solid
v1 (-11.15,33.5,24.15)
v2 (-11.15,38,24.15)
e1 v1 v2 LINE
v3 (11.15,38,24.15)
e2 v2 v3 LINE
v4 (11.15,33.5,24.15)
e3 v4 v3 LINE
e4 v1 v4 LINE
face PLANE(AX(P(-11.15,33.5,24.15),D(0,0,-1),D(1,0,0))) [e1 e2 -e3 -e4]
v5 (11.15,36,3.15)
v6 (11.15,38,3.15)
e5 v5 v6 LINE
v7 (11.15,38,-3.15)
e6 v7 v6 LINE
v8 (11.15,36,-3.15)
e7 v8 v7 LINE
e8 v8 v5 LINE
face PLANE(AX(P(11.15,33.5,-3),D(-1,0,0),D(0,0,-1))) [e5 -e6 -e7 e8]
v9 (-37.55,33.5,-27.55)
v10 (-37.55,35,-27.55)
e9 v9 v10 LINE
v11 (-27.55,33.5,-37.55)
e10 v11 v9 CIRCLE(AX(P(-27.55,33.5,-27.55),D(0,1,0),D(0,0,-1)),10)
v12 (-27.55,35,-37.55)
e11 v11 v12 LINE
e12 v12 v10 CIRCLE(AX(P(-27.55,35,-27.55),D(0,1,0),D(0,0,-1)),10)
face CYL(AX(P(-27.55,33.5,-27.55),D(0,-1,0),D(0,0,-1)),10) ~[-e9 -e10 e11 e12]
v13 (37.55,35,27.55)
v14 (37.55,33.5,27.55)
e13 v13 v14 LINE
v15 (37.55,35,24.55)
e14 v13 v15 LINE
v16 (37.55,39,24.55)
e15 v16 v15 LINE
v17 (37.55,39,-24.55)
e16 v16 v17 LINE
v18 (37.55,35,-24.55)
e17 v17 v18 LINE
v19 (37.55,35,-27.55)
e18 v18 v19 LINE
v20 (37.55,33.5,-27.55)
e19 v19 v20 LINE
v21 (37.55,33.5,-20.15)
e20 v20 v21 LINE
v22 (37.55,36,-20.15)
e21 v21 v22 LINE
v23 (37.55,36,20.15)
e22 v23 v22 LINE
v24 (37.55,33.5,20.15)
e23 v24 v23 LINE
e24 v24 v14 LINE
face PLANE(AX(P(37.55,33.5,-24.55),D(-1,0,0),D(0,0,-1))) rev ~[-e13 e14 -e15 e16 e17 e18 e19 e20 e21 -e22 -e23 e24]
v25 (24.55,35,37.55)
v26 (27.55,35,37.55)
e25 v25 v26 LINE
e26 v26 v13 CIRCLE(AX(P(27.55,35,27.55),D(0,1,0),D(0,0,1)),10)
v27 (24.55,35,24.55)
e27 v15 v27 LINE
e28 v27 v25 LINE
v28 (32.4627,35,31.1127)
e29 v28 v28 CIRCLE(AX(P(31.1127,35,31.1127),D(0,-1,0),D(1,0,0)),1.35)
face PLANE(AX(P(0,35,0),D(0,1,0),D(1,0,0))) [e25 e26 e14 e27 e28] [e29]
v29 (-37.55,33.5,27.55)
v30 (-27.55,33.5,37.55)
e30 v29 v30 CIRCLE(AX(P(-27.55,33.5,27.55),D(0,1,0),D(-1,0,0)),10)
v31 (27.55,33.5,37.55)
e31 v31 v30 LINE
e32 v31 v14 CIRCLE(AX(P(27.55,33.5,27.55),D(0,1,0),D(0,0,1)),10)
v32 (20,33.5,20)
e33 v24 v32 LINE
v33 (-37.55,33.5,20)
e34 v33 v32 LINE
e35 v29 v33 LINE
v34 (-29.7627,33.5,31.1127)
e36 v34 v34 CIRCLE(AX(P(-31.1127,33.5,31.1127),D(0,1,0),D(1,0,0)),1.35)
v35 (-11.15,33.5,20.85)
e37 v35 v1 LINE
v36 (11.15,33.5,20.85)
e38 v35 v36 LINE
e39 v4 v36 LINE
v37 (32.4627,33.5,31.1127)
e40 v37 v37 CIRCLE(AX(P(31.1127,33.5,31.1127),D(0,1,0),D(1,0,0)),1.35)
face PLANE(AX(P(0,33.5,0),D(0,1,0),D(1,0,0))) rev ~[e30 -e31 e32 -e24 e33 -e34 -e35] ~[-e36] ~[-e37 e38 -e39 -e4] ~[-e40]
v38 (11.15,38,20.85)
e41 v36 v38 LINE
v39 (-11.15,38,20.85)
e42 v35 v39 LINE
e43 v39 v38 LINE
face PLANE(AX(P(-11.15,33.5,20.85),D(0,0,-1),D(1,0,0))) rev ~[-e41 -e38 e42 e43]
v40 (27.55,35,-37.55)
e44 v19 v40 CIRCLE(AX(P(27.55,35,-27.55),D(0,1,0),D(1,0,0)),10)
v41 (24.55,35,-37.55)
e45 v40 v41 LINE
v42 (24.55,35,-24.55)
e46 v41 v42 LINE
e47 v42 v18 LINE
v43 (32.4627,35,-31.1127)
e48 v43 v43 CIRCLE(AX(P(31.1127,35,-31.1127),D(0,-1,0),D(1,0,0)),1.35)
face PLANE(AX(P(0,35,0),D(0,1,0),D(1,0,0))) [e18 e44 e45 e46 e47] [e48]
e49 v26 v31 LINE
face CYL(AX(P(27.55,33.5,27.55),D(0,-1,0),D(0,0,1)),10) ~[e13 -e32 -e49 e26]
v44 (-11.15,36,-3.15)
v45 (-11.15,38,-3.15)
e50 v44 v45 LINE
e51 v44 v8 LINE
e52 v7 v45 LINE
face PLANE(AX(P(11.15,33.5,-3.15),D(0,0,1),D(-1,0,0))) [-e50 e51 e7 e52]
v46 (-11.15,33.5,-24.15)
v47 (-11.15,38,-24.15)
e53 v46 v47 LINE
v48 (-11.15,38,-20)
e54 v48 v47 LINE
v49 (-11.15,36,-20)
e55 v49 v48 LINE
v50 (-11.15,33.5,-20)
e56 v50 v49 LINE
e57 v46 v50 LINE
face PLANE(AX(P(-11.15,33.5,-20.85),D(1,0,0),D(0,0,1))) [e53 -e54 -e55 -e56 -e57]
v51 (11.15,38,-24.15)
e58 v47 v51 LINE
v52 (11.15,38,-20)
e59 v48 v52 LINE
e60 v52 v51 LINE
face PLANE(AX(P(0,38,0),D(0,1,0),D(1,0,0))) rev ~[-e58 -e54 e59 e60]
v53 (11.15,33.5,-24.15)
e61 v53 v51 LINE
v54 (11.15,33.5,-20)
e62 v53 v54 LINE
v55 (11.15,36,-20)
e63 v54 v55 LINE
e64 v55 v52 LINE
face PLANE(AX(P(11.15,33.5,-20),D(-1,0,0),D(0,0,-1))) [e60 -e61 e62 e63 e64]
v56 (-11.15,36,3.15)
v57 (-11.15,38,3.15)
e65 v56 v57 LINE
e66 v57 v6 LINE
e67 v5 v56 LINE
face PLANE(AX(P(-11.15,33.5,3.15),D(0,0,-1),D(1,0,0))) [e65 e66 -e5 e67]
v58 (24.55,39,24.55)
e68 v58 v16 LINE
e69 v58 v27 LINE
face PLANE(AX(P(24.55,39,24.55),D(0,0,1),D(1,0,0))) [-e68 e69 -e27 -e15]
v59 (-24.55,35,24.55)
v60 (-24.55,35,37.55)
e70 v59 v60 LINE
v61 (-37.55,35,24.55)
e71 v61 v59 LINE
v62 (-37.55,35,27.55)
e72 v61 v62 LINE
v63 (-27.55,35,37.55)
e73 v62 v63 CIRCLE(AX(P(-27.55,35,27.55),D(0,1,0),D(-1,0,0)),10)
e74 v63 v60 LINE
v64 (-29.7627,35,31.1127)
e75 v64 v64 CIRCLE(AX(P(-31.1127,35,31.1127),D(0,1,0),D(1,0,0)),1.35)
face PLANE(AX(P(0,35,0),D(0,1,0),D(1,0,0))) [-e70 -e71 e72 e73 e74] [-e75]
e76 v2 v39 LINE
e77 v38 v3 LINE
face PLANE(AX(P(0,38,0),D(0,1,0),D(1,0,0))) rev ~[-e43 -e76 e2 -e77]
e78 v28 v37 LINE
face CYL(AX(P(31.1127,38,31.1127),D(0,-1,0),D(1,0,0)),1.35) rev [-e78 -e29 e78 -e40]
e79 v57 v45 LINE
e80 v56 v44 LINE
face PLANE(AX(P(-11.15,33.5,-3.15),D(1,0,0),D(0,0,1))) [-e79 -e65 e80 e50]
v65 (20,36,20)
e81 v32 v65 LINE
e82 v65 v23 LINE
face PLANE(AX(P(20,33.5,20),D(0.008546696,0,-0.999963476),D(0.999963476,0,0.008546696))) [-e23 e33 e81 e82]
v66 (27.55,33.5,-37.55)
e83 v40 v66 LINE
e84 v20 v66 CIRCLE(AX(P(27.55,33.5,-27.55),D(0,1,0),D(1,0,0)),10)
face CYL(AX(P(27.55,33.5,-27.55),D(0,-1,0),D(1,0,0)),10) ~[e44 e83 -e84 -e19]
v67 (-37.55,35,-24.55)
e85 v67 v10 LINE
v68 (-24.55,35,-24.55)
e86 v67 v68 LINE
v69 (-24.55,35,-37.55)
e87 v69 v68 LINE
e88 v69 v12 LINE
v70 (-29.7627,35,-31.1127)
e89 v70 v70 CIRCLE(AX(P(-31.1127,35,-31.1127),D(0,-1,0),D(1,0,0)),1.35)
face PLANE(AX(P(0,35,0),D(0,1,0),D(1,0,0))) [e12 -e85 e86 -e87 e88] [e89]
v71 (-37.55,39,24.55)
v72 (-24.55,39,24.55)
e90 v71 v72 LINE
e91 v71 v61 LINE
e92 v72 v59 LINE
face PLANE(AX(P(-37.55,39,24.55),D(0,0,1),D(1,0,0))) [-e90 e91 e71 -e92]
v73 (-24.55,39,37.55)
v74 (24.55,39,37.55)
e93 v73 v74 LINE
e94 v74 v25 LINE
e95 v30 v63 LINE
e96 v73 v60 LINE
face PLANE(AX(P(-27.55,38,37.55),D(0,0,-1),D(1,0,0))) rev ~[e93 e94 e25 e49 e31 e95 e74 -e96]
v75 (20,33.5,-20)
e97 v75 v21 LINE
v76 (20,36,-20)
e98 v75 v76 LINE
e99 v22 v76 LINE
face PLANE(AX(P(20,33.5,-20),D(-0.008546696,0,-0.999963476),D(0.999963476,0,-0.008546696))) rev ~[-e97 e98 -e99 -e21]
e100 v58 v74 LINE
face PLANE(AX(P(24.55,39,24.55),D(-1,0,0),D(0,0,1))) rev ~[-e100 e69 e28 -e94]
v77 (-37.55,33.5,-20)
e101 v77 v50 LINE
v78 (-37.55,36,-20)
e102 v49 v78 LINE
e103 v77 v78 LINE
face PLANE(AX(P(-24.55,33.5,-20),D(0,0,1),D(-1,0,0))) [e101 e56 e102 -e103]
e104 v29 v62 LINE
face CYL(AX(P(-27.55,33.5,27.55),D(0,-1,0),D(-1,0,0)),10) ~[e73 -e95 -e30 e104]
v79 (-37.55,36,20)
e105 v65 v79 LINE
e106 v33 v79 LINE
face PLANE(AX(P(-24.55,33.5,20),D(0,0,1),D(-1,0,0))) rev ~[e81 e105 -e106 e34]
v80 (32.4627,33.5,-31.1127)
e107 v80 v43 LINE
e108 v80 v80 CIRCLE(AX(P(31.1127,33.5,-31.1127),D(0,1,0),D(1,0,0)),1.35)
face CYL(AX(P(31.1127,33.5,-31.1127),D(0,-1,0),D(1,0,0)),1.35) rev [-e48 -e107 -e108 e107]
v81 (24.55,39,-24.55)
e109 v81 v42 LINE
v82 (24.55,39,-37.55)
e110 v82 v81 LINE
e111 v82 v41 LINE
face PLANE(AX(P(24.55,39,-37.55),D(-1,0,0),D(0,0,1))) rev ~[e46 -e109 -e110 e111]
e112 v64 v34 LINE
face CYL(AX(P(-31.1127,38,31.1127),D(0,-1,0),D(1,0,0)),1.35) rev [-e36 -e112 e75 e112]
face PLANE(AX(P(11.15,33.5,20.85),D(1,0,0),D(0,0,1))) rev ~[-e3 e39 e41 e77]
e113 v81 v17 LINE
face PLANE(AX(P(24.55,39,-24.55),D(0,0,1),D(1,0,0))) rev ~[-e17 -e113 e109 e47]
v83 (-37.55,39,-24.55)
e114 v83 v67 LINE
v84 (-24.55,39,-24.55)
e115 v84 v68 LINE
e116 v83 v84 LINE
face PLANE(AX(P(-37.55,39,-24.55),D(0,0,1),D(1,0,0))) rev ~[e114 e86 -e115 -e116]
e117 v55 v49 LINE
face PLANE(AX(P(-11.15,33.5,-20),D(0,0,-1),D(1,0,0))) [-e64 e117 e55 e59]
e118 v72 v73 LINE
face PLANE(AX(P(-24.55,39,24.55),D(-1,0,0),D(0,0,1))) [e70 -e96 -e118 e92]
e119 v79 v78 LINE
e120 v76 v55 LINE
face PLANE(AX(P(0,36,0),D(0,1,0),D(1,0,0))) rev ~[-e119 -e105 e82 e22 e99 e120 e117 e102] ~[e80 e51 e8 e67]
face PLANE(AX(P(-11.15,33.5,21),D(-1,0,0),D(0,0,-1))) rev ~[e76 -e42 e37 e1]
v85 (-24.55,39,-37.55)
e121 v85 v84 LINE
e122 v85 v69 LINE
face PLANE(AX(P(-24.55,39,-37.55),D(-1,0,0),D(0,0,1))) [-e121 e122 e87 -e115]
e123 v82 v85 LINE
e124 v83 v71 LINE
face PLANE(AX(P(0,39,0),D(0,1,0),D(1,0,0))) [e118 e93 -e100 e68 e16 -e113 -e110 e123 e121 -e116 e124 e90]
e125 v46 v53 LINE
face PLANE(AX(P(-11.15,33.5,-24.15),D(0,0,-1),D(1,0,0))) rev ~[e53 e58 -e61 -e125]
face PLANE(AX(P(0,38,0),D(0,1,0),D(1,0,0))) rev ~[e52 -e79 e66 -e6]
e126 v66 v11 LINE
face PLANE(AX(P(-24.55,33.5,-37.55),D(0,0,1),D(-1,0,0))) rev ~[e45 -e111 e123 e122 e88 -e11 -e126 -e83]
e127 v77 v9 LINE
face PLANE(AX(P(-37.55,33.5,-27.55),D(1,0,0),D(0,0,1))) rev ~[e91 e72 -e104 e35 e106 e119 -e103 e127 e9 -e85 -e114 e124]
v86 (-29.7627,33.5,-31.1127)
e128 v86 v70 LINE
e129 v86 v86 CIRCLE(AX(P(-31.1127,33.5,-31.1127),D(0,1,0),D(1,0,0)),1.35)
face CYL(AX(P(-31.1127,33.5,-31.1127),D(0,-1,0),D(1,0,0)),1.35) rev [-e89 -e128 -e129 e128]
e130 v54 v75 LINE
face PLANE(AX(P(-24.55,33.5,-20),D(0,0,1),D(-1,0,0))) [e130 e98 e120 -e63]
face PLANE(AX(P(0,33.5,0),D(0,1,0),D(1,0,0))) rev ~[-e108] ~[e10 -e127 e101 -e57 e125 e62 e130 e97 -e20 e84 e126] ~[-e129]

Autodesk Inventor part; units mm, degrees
ref_plane "YZ Plane" through (0, 0, 0) normal (1, 0, 0) x (0, 1, 0)
ref_plane "XZ Plane" through (0, 0, 0) normal (0, 1, 0) x (-1, 0, 0)
ref_plane "XY Plane" through (0, 0, 0) normal (0, 0, 1) x (1, 0, 0)
sketch "スケッチ1" plane through (0, 0, 0) normal (0, 1, 0) x (-1, 0, 0)
  line L0 (37.55, 37.55) -> (-37.55, 37.55)
  line L1 (-37.55, 37.55) -> (-37.55, -37.55)
  line L2 (-37.55, -37.55) -> (37.55, -37.55)
  line L3 (37.55, -37.55) -> (37.55, 37.55)
  line L4 (37.55, 37.55) -> (-37.55, -37.55) construction
  line L5 (-37.55, 37.55) -> (37.55, -37.55) construction
  line L6 (36.55, 36.55) -> (-36.55, 36.55)
  line L7 (-36.55, 36.55) -> (-36.55, -36.55)
  line L8 (-36.55, -36.55) -> (36.55, -36.55)
  line L9 (36.55, -36.55) -> (36.55, 36.55)
  line L10 (52.57, 0) -> (-52.57, 0) construction
  line L11 (0, -52.57) -> (0, 52.57) construction
  line L12 (14, -25) -> (-14, -25)
  line L13 (-14, -25) -> (-14, -35.5)
  line L14 (-14, -35.5) -> (14, -35.5)
  line L15 (14, -35.5) -> (14, -25)
  line L16 (14, -25) -> (-14, -35.5) construction
  line L17 (-14, -25) -> (14, -35.5) construction
  line L18 (0, 37.55) -> (0, -37.55) construction
  circle A0 centre (-13.68, -10.17) radius 1.6
  line L19 (14, -30.25) -> (-14, -30.25) construction
  line L20 (-11.15, 0) -> (-11.15, -24)
  line L21 (11.15, -24) -> (11.15, 0)
  line L22 (-11.15, 12.7) -> (-36.55, 12.7)
  line L23 (-36.55, 12.7) -> (-36.55, -12.7) construction
  line L24 (-36.55, -12.7) -> (-11.15, -12.7)
  line L25 (-11.15, -12.7) -> (-11.15, 12.7) construction
  line L26 (-11.15, 12.7) -> (-36.55, -12.7) construction
  line L27 (-36.55, 12.7) -> (-11.15, -12.7) construction
  line L28 (-13.68, 10.17) -> (-34.02, 10.17) construction
  line L29 (-34.02, 10.17) -> (-34.02, -10.17) construction
  line L30 (-34.02, -10.17) -> (-13.68, -10.17) construction
  line L31 (-13.68, -10.17) -> (-13.68, 10.17) construction
  line L32 (-13.68, 10.17) -> (-34.02, -10.17) construction
  line L33 (-34.02, 10.17) -> (-13.68, -10.17) construction
  circle A1 centre (-13.68, 10.17) radius 1.6
  circle A2 centre (-34.02, 10.17) radius 1.6
  circle A3 centre (-34.02, -10.17) radius 1.6
  line L34 (11.15, 0) -> (-11.15, 0) construction
  line L35 (11.15, -24) -> (-11.15, -24)
  line L36 (8.8, -24) -> (-8.8, -24) construction
  line L37 (-8.8, -24) -> (-8.8, -27)
  line L38 (-8.8, -27) -> (8.8, -27)
  line L39 (8.8, -27) -> (8.8, -24)
  line L40 (8.8, -24) -> (-8.8, -27) construction
  line L41 (-8.8, -24) -> (8.8, -27) construction
  line L42 (11.15, -3) -> (12, -3)
  line L43 (12, -3) -> (12, -9)
  line L44 (12, -9) -> (11.15, -9)
  line L45 (11.15, -12) -> (-11.15, -12) construction
  line L46 (12, -6) -> (-12, -6) construction
  line L47 (11.15, -21) -> (12, -21)
  line L48 (12, -21) -> (12, -15)
  line L49 (12, -15) -> (11.15, -15)
  line L50 (-11.15, -3) -> (-12, -3)
  line L51 (-12, -3) -> (-12, -9)
  line L52 (-12, -9) -> (-11.15, -9)
  line L53 (-12, -15) -> (-11.15, -15)
  line L54 (-12, -21) -> (-12, -15)
  line L55 (-11.15, -21) -> (-12, -21)
  line L56 (14, 25) -> (-14, 25)
  line L57 (-14, 25) -> (-14, 35.5)
  line L58 (-14, 35.5) -> (14, 35.5)
  line L59 (14, 35.5) -> (14, 25)
  line L60 (-11.15, 0) -> (-11.15, 24)
  line L61 (11.15, 24) -> (11.15, 0)
  line L62 (11.15, 24) -> (-11.15, 24)
  line L63 (8.8, 24) -> (-8.8, 24) construction
  line L64 (-8.8, 24) -> (-8.8, 27)
  line L65 (-8.8, 27) -> (8.8, 27)
  line L66 (8.8, 27) -> (8.8, 24)
  line L67 (11.15, 3) -> (12, 3)
  line L68 (12, 3) -> (12, 9)
  line L69 (12, 9) -> (11.15, 9)
  line L70 (12, 15) -> (11.15, 15)
  line L71 (12, 21) -> (12, 15)
  line L72 (11.15, 21) -> (12, 21)
  line L73 (-12, 3) -> (-12, 9)
  line L74 (-11.15, 3) -> (-12, 3)
  line L75 (-12, 9) -> (-11.15, 9)
  line L76 (-12, 21) -> (-12, 15)
  line L77 (-12, 15) -> (-11.15, 15)
  line L78 (-11.15, 21) -> (-12, 21)
  line L79 (15, 33.5) -> (29, 33.5)
  line L80 (29, 33.5) -> (29, -33.5)
  line L81 (29, -33.5) -> (15, -33.5)
  line L82 (15, -33.5) -> (15, 33.5)
  line L83 (15, 33.5) -> (29, -33.5) construction
  line L84 (29, 33.5) -> (15, -33.5) construction
  line L85 (-33.85, 20) -> (-13.85, 20)
  line L86 (-13.85, 20) -> (-13.85, -20)
  line L87 (-13.85, -20) -> (-33.85, -20)
  line L88 (-33.85, -20) -> (-33.85, 20)
  line L89 (-33.85, 20) -> (-13.85, -20) construction
  line L90 (-13.85, 20) -> (-33.85, -20) construction
  line L91 (37.55, 25.5) -> (15, 25.5) construction
  circle A4 centre (-21, -30.25) radius 3.1
  line L92 (-21, -37.55) -> (-21, 37.55) construction
  circle A5 centre (-21, 30.25) radius 3.1
  circle A6 centre (21, -30.25) radius 3.1
  circle A7 centre (21, 30.25) radius 3.1
  circle A8 centre (-21, -30.25) radius 4.1
  circle A9 centre (-21, 30.25) radius 4.1
  circle A10 centre (21, -30.25) radius 4.1
  circle A11 centre (21, 30.25) radius 4.1
  circle A12 centre (33, 0) radius 2.6
  circle A13 centre (33, 0) radius 3.5
  circle A14 centre (-33, 0) radius 2.6
  circle A15 centre (-33, 0) radius 3.5
  line L93 (-27.85, 4) -> (-19.85, 4)
  line L94 (-19.85, 4) -> (-19.85, -4)
  line L95 (-19.85, -4) -> (-27.85, -4)
  line L96 (-27.85, -4) -> (-27.85, 4)
  line L97 (-27.85, 4) -> (-19.85, -4) construction
  line L98 (-19.85, 4) -> (-27.85, -4) construction
  line L99 (26, -34) -> (18, -34)
  line L100 (18, -34) -> (18, -33.5)
  line L101 (18, -33.5) -> (26, -33.5) construction
  line L102 (26, -33.5) -> (26, -34)
  line L103 (26, -34) -> (18, -33.5) construction
  line L104 (18, -34) -> (26, -33.5) construction
  line L105 (22, -33.5) -> (22, 33.5) construction
  line L106 (-11.15, 24) -> (-11.15, 25)
  line L107 (11.15, 24) -> (11.15, 25)
  line L108 (11.15, -24) -> (11.15, -25)
  line L109 (-11.15, -24) -> (-11.15, -25)
  line L110 (14, 25) -> (14, 24)
  line L111 (14, 24) -> (11.15, 24)
  line L112 (-11.15, 24) -> (-14, 24)
  line L113 (-14, 24) -> (-14, 25)
  line L114 (14, -25) -> (14, -24)
  line L115 (14, -24) -> (11.15, -24)
  line L116 (-11.15, -24) -> (-14, -24)
  line L117 (-14, -24) -> (-14, -25)
  point P0 (0, 0)
  point P1 (0, -30.25)
  point P2 (-23.85, 0)
  point P3 (0, -25.5)
  point P4 (0, 0)
  point P5 (0, -6)
  point P6 (-12, 6)
  point P7 (12, 6)
  point P8 (22, 0)
  point P9 (-23.85, 0)
  point P10 (22, -33.75)
  dimension "d1" = 1
  dimension "d2" = 10.5
  dimension "d3" = 28
  dimension "d5" = 3.2
  dimension "d11" = 25.4
  dimension "d12" = 20.34
  dimension "d15" = 360
  dimension "d18" = 22.3
  dimension "d19" = 17.6
  dimension "d20" = 27
  dimension "d21" = 24
  dimension "d22" = 1
  dimension "d25" = 24
  dimension "d26" = 12
  dimension "d27" = 6
  dimension "d32" = 67
  dimension "d33" = 14
  dimension "d34" = 1
  dimension "d35" = 40
  dimension "d36" = 20
  dimension "d41" = 8
  dimension "d47" = 6.2
  dimension "d48" = 7
  dimension "d49" = 1
  dimension "d54" = 5.2
  dimension "d55" = 7
  dimension "d56" = 33
  dimension "d86" = 8
  dimension "d110" = 8
  dimension "d111" = 0.5
extrude "押し出し3" add sketch "スケッチ1" along normal blind 33.5 contours L3 L2 L1 L0 | L9 L8 L7 L24 L88 L87 L86 L20 L53 L54 L55 L116 L117 L13 L14 L15 L114 L115 L21 L47 L48 L49 L44 L43 L42 L61 L67 L68 L69 L70 L71 L72 L111 L110 L59 L58 L57 L113 L112 L60 L78 L76 L77 L22 L85 L6 | L22 L88 A2 A15 A3 L24 L7 | L88 L85 L86 L22 | L22 L86 A1 A0 L24 L88 A3 A15 A2 | L24 L86 L87 L88 | L22 L60 L75 L73 L74 L20 L50 L51 L52 L24 L86 A0 A1 | L88 A2 | A2 L88 | L88 A3 | A3 L88 | L60 L62 L61 L21 L35 L20 | L86 A1 | A1 L86 | L86 A0 | A0 L86 | L60 L74 L73 L75 | L77 L76 L78 L60 | A15 L88 A14 | L88 A14 A15 | L52 L51 L50 L20 | L20 L55 L54 L53 | A14 L88 | L88 A14 | L106 L56 L64 L62 | L112 L113 L56 L106 | L35 L37 L12 L109 | L109 L12 L117 L116 | L64 L56 L66 L62 | L56 L57 L58 L59 L66 L65 L64 | L35 L39 L12 L37 | L12 L37 L38 L39 L15 L14 L13 | L66 L56 L107 L62 | L64 L65 L66 L56 | L35 L108 L12 L39 | L12 L39 L38 L37 | L107 L56 L110 L111 | L115 L114 L12 L108 | L72 L71 L70 L61 | L21 L49 L48 L47 | L69 L68 L67 L61 | L21 L42 L43 L44 | L79 A11 L80 L81 A10 L82 | A11 L79 | L79 A11 | L81 A10 L99 L100 | A10 L81 | L81 A10 L99 | L81 L102 L99 A10 | L99 A10 | A4 | A5 | A6 | A7 | A8 | A9 | A12 | A13 | L93 L94 L95 L96
fillet "フィレット1" radius 10 4 edges at (37.55, 16.75, 37.55) (37.55, 16.75, -37.55) (-37.55, 16.75, -37.55) (-37.55, 16.75, 37.55)
extrude "押し出し11" cut sketch "スケッチ1" along normal through all contours L56 L57 L58 L59 L66 L65 L64 | L12 L37 L38 L39 L15 L14 L13 | L64 L65 L66 L56 | L12 L39 L38 L37
extrude "押し出し12" cut sketch "スケッチ1" along normal blind 1.5 contours A4 | A5 | A6 | A7
extrude "押し出し13" cut sketch "スケッチ1" along normal blind 1.5 contours A14 L88 | L88 A14 | A12
sketch "スケッチ5" plane through (0, 0, 0) normal (0, 1, 0) x (-1, 0, 0)
  line L0 (-12, 9) -> (-11.15, 9) projected
  line L1 (-11.15, 0) -> (-11.15, 24) projected
  line L2 (-12, 3) -> (-12, 9) projected
  line L3 (-11.15, 3) -> (-12, 3) projected
  line L4 (-12, 15) -> (-11.15, 15) projected
  line L5 (-12, 21) -> (-12, 15) projected
  line L6 (11.15, 3) -> (12, 3) projected
  line L7 (-11.15, 21) -> (-12, 21) projected
  line L8 (11.15, 21) -> (12, 21) projected
  line L9 (11.15, 24) -> (-11.15, 24) projected
  line L10 (-8.8, 24) -> (-8.8, 27) projected
  line L11 (8.8, 24) -> (-8.8, 24) construction
  line L12 (8.8, 27) -> (8.8, 24) projected
  line L13 (-8.8, 27) -> (8.8, 27) projected
  line L14 (11.15, 0) -> (-11.15, 0) construction
  line L15 (11.15, -12) -> (-11.15, -12) construction
  line L16 (12, -9) -> (11.15, -9) projected
  line L17 (11.15, -3) -> (12, -3) projected
  line L18 (12, -3) -> (12, -9) projected
  line L19 (12, -6) -> (-12, -6) construction
  line L20 (-12, -9) -> (-11.15, -9) projected
  line L21 (-12, -3) -> (-12, -9) projected
  line L22 (-11.15, -3) -> (-12, -3) projected
  line L23 (-11.15, -12.7) -> (-11.15, 12.7) construction
  line L24 (-11.15, 0) -> (-11.15, -24) projected
  line L25 (11.15, -24) -> (11.15, 0) projected
  line L26 (12, -15) -> (11.15, -15) projected
  line L27 (12, -21) -> (12, -15) projected
  line L28 (12, 9) -> (11.15, 9) projected
  line L29 (12, 3) -> (12, 9) projected
  line L30 (12, 15) -> (11.15, 15) projected
  line L31 (12, 21) -> (12, 15) projected
  line L32 (11.15, 24) -> (11.15, 0) projected
  line L33 (11.15, -24) -> (-11.15, -24) projected
  line L34 (8.8, -24) -> (-8.8, -24) construction
  line L35 (-12, -15) -> (-11.15, -15) projected
  line L36 (-12, -21) -> (-12, -15) projected
  line L37 (-11.15, -21) -> (-12, -21) projected
  line L38 (11.15, -21) -> (12, -21) projected
  line L39 (-8.8, -27) -> (8.8, -27) projected
  line L40 (-8.8, -24) -> (-8.8, -27) projected
  line L41 (8.8, -27) -> (8.8, -24) projected
  line L42 (-11.15, -14.85) -> (-12.15, -14.85)
  line L43 (-12.15, -14.85) -> (-12.15, -21.15)
  line L44 (-12.15, -21.15) -> (-11.15, -21.15)
  line L45 (-11.15, -9.15) -> (-12.15, -9.15)
  line L46 (-12.15, -9.15) -> (-12.15, -2.85)
  line L47 (-12.15, -2.85) -> (-11.15, -2.85)
  line L48 (11.15, -14.85) -> (12.15, -14.85)
  line L49 (12.15, -14.85) -> (12.15, -21.15)
  line L50 (12.15, -21.15) -> (11.15, -21.15)
  line L51 (11.15, -9.15) -> (12.15, -9.15)
  line L52 (12.15, -9.15) -> (12.15, -2.85)
  line L53 (12.15, -2.85) -> (11.15, -2.85)
  line L54 (-11.15, 9.15) -> (-12.15, 9.15)
  line L55 (-12.15, 9.15) -> (-12.15, 2.85)
  line L56 (-12.15, 2.85) -> (-11.15, 2.85)
  line L57 (-11.15, 14.85) -> (-12.15, 14.85)
  line L58 (-12.15, 14.85) -> (-12.15, 21.15)
  line L59 (-12.15, 21.15) -> (-11.15, 21.15)
  line L60 (11.15, 14.85) -> (12.15, 14.85)
  line L61 (12.15, 14.85) -> (12.15, 21.15)
  line L62 (12.15, 21.15) -> (11.15, 21.15)
  line L63 (-11.3, -24.15) -> (-11.3, 0)
  line L64 (-11.3, 0) -> (-11.3, 24.15)
  line L65 (-11.3, 24.15) -> (11.3, 24.15)
  line L66 (11.3, 24.15) -> (11.3, 0)
  line L67 (11.3, 0) -> (11.3, -24.15)
  line L68 (11.3, -24.15) -> (-11.3, -24.15)
  line L69 (8.95, 27.15) -> (8.95, 23.85)
  line L70 (8.95, 23.85) -> (-8.95, 23.85)
  line L71 (-8.95, 23.85) -> (-8.95, 27.15)
  line L72 (-8.95, 27.15) -> (8.95, 27.15)
  line L73 (8.95, -27.15) -> (-8.95, -27.15)
  line L74 (-8.95, -27.15) -> (-8.95, -23.85)
  line L75 (-8.95, -23.85) -> (8.95, -23.85)
  line L76 (8.95, -23.85) -> (8.95, -27.15)
  line L77 (11.15, 9.15) -> (12.15, 9.15)
  line L78 (12.15, 9.15) -> (12.15, 2.85)
  line L79 (12.15, 2.85) -> (11.15, 2.85)
  point P0 (0, 0)
  point P1 (0, 0)
  point P2 (-12, 6)
  point P3 (12, 6)
  point P4 (0, -6)
  point P5 (0, 0)
  point P6 (-11.3, -14.85)
  point P7 (-11.3, -21.15)
  point P8 (-8.95, -24.15)
  point P9 (8.95, -24.15)
  point P10 (11.3, -21.15)
  point P11 (11.3, -14.85)
  point P12 (11.3, -9.15)
  point P13 (11.3, -2.85)
  point P14 (11.3, 2.85)
  point P15 (11.3, 9.15)
  point P16 (11.3, 14.85)
  point P17 (11.3, 21.15)
  point P18 (8.95, 24.15)
  point P19 (-8.95, 24.15)
  point P20 (-11.3, 21.15)
  point P21 (-11.3, 14.85)
  point P22 (-11.3, 9.15)
  point P23 (-11.3, 2.85)
  point P24 (-11.3, -2.85)
  point P25 (-11.3, -9.15)
  dimension "d73" = 0.15
  dimension "d74" = 0.15
  dimension "d75" = 0.15
  dimension "d76" = 0.15
  dimension "d77" = 0.15
  dimension "d78" = 0.15
  dimension "d79" = 0.15
  dimension "d80" = 0.15
  dimension "d81" = 0.15
  dimension "d82" = 0.15
  dimension "d83" = 0.15
extrude "押し出し14" cut sketch "スケッチ5" against normal blind 31.5 from surface at 33.5
sketch "スケッチ6" plane through (0, 0, 0) normal (0, 1, 0) x (-1, 0, 0)
  line L0 (-11.15, 12.7) -> (-36.55, 12.7) projected
  circle A0 centre (-13.68, 10.17) radius 1.6 projected
  line L1 (-11.15, 0) -> (-11.15, 24) projected
  line L2 (-11.15, 0) -> (-11.15, -24) projected
  line L3 (-36.55, -12.7) -> (-11.15, -12.7) projected
  line L4 (-36.55, 12.7) -> (-36.55, -12.7) construction
  circle A1 centre (-34.02, -10.17) radius 1.6 projected
  circle A2 centre (-34.02, 10.17) radius 1.6 projected
  circle A3 centre (-13.68, -10.17) radius 1.6 projected
  line L5 (-11.15, 12.85) -> (-36.7, 12.85)
  line L6 (-36.7, 12.85) -> (-36.7, -12.85)
  line L7 (-36.7, -12.85) -> (-11.15, -12.85)
  circle A4 centre (-13.68, 10.17) radius 3
  circle A5 centre (-34.02, 10.17) radius 3
  circle A6 centre (-13.68, -10.17) radius 3
  circle A7 centre (-34.02, -10.17) radius 3
  point P0 (0, 0)
  point P1 (-36.7, -11.5182)
  point P2 (-36.7, -8.8218)
  point P3 (-32.6718, -12.85)
  point P4 (-35.3682, -12.85)
  point P5 (-36.7, 8.8218)
  point P6 (-36.7, 11.5182)
  point P7 (-35.3682, 12.85)
  point P8 (-32.6718, 12.85)
  dimension "d89" = 0.15
  dimension "d92" = 6
extrude "押し出し16" cut sketch "スケッチ6" against normal blind 19.5 from surface at 33.5 contours L1 A4 L0 | L0 A4 L5 L1 | A4 L1 L0 | L0 A4 L5 | A4 L1 L2 A6 L3 A7 L6 A5 L0 | L0 A5 L5 A4 | A5 L6 L0 | L0 A5 L5 | A5 L6 L5 | L5 A5 | L2 A6 L3 | L6 A5 | L2 L3 A6 | A6 L7 A7 L3 | L3 A6 L7 | A7 L3 L6 | L6 A7 | L2 L7 A6 L3 | A7 L7 L3 | A7 L7 L6 | A7 L7 | A0 | A1 | A2 | A3
extrude "押し出し15" cut sketch "スケッチ1" along normal through all contours L88 A2 | A2 L88 | L88 A3 | A3 L88 | L86 A1 | A1 L86 | L86 A0 | A0 L86 | L93 L94 L95 L96
extrude "押し出し17" cut sketch "スケッチ6" along normal blind 4 contours A5 L6 L0 | L0 A5 L5 | L5 A5 | L6 A5 | A7 L3 L6 | L6 A7 | A7 L7 L3 | A7 L7 | A1 | A2
sketch "スケッチ7" plane through (0, 0, 0) normal (0, 1, 0) x (-1, 0, 0)
  line L0 (-33.85, 20) -> (-13.85, 20) projected
  line L1 (-13.85, 20) -> (-13.85, -20) projected
  line L2 (-33.85, -20) -> (-33.85, 20) projected
  line L3 (-13.85, -20) -> (-33.85, -20) projected
  line L4 (-13.7, 20.15) -> (-34, 20.15)
  line L5 (-34, 20.15) -> (-34, -20.15)
  line L6 (-34, -20.15) -> (-13.7, -20.15)
  line L7 (-13.7, -20.15) -> (-13.7, 20.15)
  point P0 (0, 0)
  dimension "d95" = 0.15
extrude "押し出し18" cut sketch "スケッチ7" against normal blind 14.5 from surface at 33.5 contours L0 L1 L3 L2 | L7 L6 L5 L4
sketch "スケッチ9" plane through (0, 0, 0) normal (0, 1, 0) x (-1, 0, 0)
  line L0 (29, 33.5) -> (29, -33.5) projected
  line L1 (29, -33.5) -> (15, -33.5) projected
  line L2 (15, -33.5) -> (15, 33.5) projected
  line L3 (15, 33.5) -> (29, 33.5) projected
  line L4 (29.15, -33.65) -> (29.15, 33.65)
  line L5 (29.15, 33.65) -> (14.85, 33.65)
  line L6 (14.85, 33.65) -> (14.85, -33.65)
  line L7 (14.85, -33.65) -> (29.15, -33.65)
  line L8 (15, -33.5) -> (15, -33.65)
  line L9 (15, 33.5) -> (15, 33.65)
  line L10 (26, -33.5) -> (26, -34) projected
  line L11 (26, -34) -> (18, -34) projected
  line L12 (18, -34) -> (18, -33.5) projected
  line L13 (16, -33.5) -> (16, -36)
  line L14 (16, -36) -> (28, -36)
  line L15 (28, -36) -> (28, -33.5)
  line L16 (28, -36) -> (28, -39.9042)
  line L17 (28, -39.9042) -> (16, -39.9042)
  line L18 (16, -39.9042) -> (16, -36)
  line L19 (17, -33.5) -> (17, -35)
  line L20 (17, -35) -> (27, -35)
  line L21 (27, -35) -> (27, -33.5)
  point P0 (0, 0)
  point P1 (22, -33.5)
  point P2 (18, -33.65)
  point P3 (26, -33.65)
  point P4 (17, -33.65)
  point P5 (27, -33.65)
  dimension "d109" = 0.15
  dimension "d113" = 12
  dimension "d116" = 10
extrude "押し出し21" cut sketch "スケッチ9" against normal blind 31.25 from surface at 33.5 contours L3 L9 L5 L4 L7 L15 L1 L0 | L0 L1 L2 L3 | L2 L8 L7 L6 L5 L9 | L15 L7 L21 L1 | L1 L13 L7 L8 | L21 L7 L10 L1 | L1 L19 L7 L13 | L10 L7 L12 L1 | L21 L20 L19 L7 L12 L11 L10 | L1 L12 L7 L19 | L10 L11 L12 L7
sketch "スケッチ8" plane through (0, 0, 0) normal (1, 0, 0) x (0, 1, 0)
  line L0 (-10.4294, 0) -> (62.5761, 0) construction
  line L1 (0, -52.2157) -> (0, 71.794) construction
  line L2 (30.25, -33.5) -> (3.25, -33.5)
  line L3 (3.25, -33.5) -> (3.25, 33.5)
  line L4 (3.25, 33.5) -> (30.25, 33.5)
  line L5 (30.25, 33.5) -> (30.25, -33.5)
  line L6 (30.25, -33.5) -> (3.25, 33.5) construction
  line L7 (3.25, -33.5) -> (30.25, 33.5) construction
  line L8 (31.25, -34.5) -> (2.25, -34.5)
  line L9 (2.25, -34.5) -> (2.25, 34.5)
  line L10 (2.25, 34.5) -> (31.25, 34.5)
  line L11 (31.25, 34.5) -> (31.25, -34.5)
  line L12 (20.75, 33.5) -> (12.75, 33.5) construction
  line L13 (12.75, 33.5) -> (12.75, 34)
  line L14 (12.75, 34) -> (20.75, 34)
  line L15 (20.75, 34) -> (20.75, 33.5)
  line L16 (20.75, 33.5) -> (12.75, 34) construction
  line L17 (12.75, 33.5) -> (20.75, 34) construction
  line L18 (16.75, -33.5) -> (16.75, 33.5) construction
  line L19 (52.1468, -21.2895) -> (31.25, -21.2895)
  line L20 (31.25, -21.2895) -> (31.25, 21.2895) construction
  line L21 (31.25, 21.2895) -> (52.1468, 21.2895)
  line L22 (52.1468, 21.2895) -> (52.1468, -21.2895)
  line L23 (52.1468, -21.2895) -> (31.25, 21.2895) construction
  line L24 (31.25, -21.2895) -> (52.1468, 21.2895) construction
  line L25 (22.75, 33.5) -> (10.75, 33.5) construction
  line L26 (10.75, 33.5) -> (10.75, 54.0784)
  line L27 (10.75, 54.0784) -> (22.75, 54.0784)
  line L28 (22.75, 54.0784) -> (22.75, 33.5)
  line L29 (22.75, 33.5) -> (10.75, 54.0784) construction
  line L30 (10.75, 33.5) -> (22.75, 54.0784) construction
  line L31 (31.25, -26) -> (2.25, -26)
  line L32 (31.25, 26) -> (2.25, 26)
  point P0 (0, 0)
  point P1 (16.75, 0)
  point P2 (16.75, 33.75)
  point P3 (41.6984, 0)
  point P4 (16.75, 43.7892)
  point P5 (10.75, 34.5)
  point P6 (22.75, 34.5)
  point P7 (30.25, 26)
  point P8 (3.25, 26)
  point P9 (3.25, -26)
  point P10 (30.25, -26)
  dimension "d98" = 27
  dimension "d99" = 67
  dimension "d100" = 1
  dimension "d101" = 0.5
  dimension "d102" = 8
  dimension "d103" = 16.75
  dimension "d106" = 12
  dimension "d117" = 26
extrude "押し出し22" cut sketch "スケッチ8" against normal blind 31.25 from surface at -29.15 contours L31 L3 L32 L5 | L5 L32 L11 L31 | L11 L21 L22 L19
sketch "スケッチ10" plane through (0, 0, 0) normal (0, 0, 1) x (1, 0, 0)
  line L0 (-15, 22.75) -> (-29, 22.75)
  line L1 (-29, 22.75) -> (-29, 10.75)
  line L2 (-29, 10.75) -> (-15, 10.75)
  line L3 (-15, 10.75) -> (-15, 22.75)
  line L4 (-15, 22.75) -> (-29, 10.75) construction
  line L5 (-29, 22.75) -> (-15, 10.75) construction
  line L6 (-34.8, 0) -> (5.8, 0) construction
  point P0 (0, 0)
  point P1 (-15, 0)
  point P2 (-15, 0)
  point P3 (-15, 0)
  point P4 (-22, 16.75)
  dimension "d120" = 14
  dimension "d121" = 12
  dimension "d122" = 16.75
  dimension "d123" = 7
extrude "押し出し23" cut sketch "スケッチ10" along normal through all both and the other way through all
sketch "スケッチ11" plane through (0, 0, 0) normal (0, 1, 0) x (-1, 0, 0)
  circle A0 centre (31.1127, 31.1127) radius 1.35
  line L0 (37.55, 37.55) -> (-37.55, -37.55) construction
  line L1 (-37.55, 37.55) -> (37.55, -37.55) construction
  circle A1 centre (0, 0) radius 44 construction
  circle A2 centre (-31.1127, 31.1127) radius 1.35
  circle A3 centre (-31.1127, -31.1127) radius 1.35
  circle A4 centre (31.1127, -31.1127) radius 1.35
  circle A5 centre (31.1127, 31.1127) radius 2.5
  circle A6 centre (-31.1127, 31.1127) radius 2.5
  circle A7 centre (-31.1127, -31.1127) radius 2.5
  circle A8 centre (31.1127, -31.1127) radius 2.5
  dimension "d127" = 88
  dimension "d126" = 2.7
  dimension "d130" = 360
  dimension "d132" = 5
  dimension "d135" = 360
extrude "押し出し24" cut sketch "スケッチ11" along normal blind 19.5 contours A0 | A2 | A3 | A4 | A5 | A6 | A7 | A8
extrude "押し出し25" cut sketch "スケッチ11" along normal through all contours A0 | A2 | A3 | A4
sketch "スケッチ12" plane through (0, 33.5, 0) normal (0, 1, 0) x (1, 0, 0)
  point P0 (0, 0)
sketch "スケッチ13" plane through (0, 0, 0) normal (0, 1, 0) x (-1, 0, 0)
  circle A0 centre (-31.1127, -31.1127) radius 1.35 projected
  circle A1 centre (-31.1127, 31.1127) radius 1.35 projected
  circle A2 centre (31.1127, -31.1127) radius 1.35 projected
  circle A3 centre (31.1127, 31.1127) radius 1.35 projected
  line L0 (11.3, -21.15) -> (11.3, -24.15) projected
  line L1 (11.3, -24.15) -> (8.95, -24.15) projected
  line L2 (8.95, -24.15) -> (8.95, -25) projected
  line L3 (8.95, -25) -> (14, -25) projected
  line L4 (14, -25) -> (14, -35.5) projected
  line L5 (14, -35.5) -> (-14, -35.5) projected
  line L6 (-14, -35.5) -> (-14, -25) projected
  line L7 (-14, -25) -> (-8.95, -25) projected
  line L8 (-8.95, -25) -> (-8.95, -24.15) projected
  line L9 (-8.95, -24.15) -> (-11.3, -24.15) projected
  line L10 (-11.3, -24.15) -> (-11.3, -21.15) projected
  line L11 (-11.3, -21.15) -> (-12.15, -21.15) projected
  line L12 (-12.15, -21.15) -> (-12.15, -14.85) projected
  line L13 (-12.15, -14.85) -> (-11.3, -14.85) projected
  line L14 (-11.3, -14.85) -> (-11.3, -12.85) projected
  line L15 (-11.3, -12.85) -> (-13.7, -12.85) projected
  line L16 (-13.7, -12.85) -> (-13.7, -20.15) projected
  line L17 (-13.7, -20.15) -> (-34, -20.15) projected
  line L18 (-34, -20.15) -> (-34, -13.1699) projected
  arc A4 (-35.3682, -12.85) -> (-34, -13.1699) centre (-34.02, -10.17) ccw projected
  line L19 (-35.3682, -12.85) -> (-36.7, -12.85) projected
  line L20 (-36.7, -12.85) -> (-36.7, -11.5182) projected
  arc A5 (-36.7, -8.8218) -> (-36.7, -11.5182) centre (-34.02, -10.17) ccw projected
  line L21 (-36.7, -8.8218) -> (-36.7, 8.8218) projected
  arc A6 (-36.7, 11.5182) -> (-36.7, 8.8218) centre (-34.02, 10.17) ccw projected
  line L22 (-36.7, 11.5182) -> (-36.7, 12.85) projected
  line L23 (-36.7, 12.85) -> (-35.3682, 12.85) projected
  arc A7 (-34, 13.1699) -> (-35.3682, 12.85) centre (-34.02, 10.17) ccw projected
  line L24 (-34, 13.1699) -> (-34, 20.15) projected
  line L25 (-34, 20.15) -> (-13.7, 20.15) projected
  line L26 (-13.7, 20.15) -> (-13.7, 12.85) projected
  line L27 (-13.7, 12.85) -> (-11.3, 12.85) projected
  line L28 (-11.3, 12.85) -> (-11.3, 14.85) projected
  line L29 (-11.3, 14.85) -> (-12.15, 14.85) projected
  line L30 (-12.15, 14.85) -> (-12.15, 21.15) projected
  line L31 (-12.15, 21.15) -> (-11.3, 21.15) projected
  line L32 (-11.3, 21.15) -> (-11.3, 24.15) projected
  line L33 (-11.3, 24.15) -> (-8.95, 24.15) projected
  line L34 (-8.95, 24.15) -> (-8.95, 25) projected
  line L35 (-8.95, 25) -> (-14, 25) projected
  line L36 (-14, 25) -> (-14, 35.5) projected
  line L37 (-14, 35.5) -> (14, 35.5) projected
  line L38 (14, 35.5) -> (14, 25) projected
  line L39 (14, 25) -> (8.95, 25) projected
  line L40 (8.95, 25) -> (8.95, 24.15) projected
  line L41 (8.95, 24.15) -> (11.3, 24.15) projected
  line L42 (11.3, 24.15) -> (11.3, 21.15) projected
  line L43 (11.3, 21.15) -> (12.15, 21.15) projected
  line L44 (12.15, 21.15) -> (12.15, 14.85) projected
  line L45 (12.15, 14.85) -> (11.3, 14.85) projected
  line L46 (11.3, 14.85) -> (11.3, 9.15) projected
  line L47 (11.3, 9.15) -> (12.15, 9.15) projected
  line L48 (12.15, 9.15) -> (12.15, 2.85) projected
  line L49 (12.15, 2.85) -> (11.3, 2.85) projected
  line L50 (11.3, 2.85) -> (11.3, -2.85) projected
  line L51 (11.3, -2.85) -> (12.15, -2.85) projected
  line L52 (12.15, -2.85) -> (12.15, -9.15) projected
  line L53 (12.15, -9.15) -> (11.3, -9.15) projected
  line L54 (11.3, -9.15) -> (11.3, -14.85) projected
  line L55 (11.3, -14.85) -> (12.15, -14.85) projected
  line L56 (12.15, -14.85) -> (12.15, -21.15) projected
  line L57 (12.15, -21.15) -> (11.3, -21.15) projected
  line L58 (14.85, -33.65) -> (14.85, 33.65) projected
  line L59 (14.85, 33.65) -> (29.15, 33.65) projected
  line L60 (29.15, 33.65) -> (29.15, 21.2895) projected
  line L61 (29.15, 21.2895) -> (37.55, 21.2895) projected
  line L62 (37.55, 21.2895) -> (37.55, 27.55) projected
  arc A8 (37.55, 27.55) -> (27.55, 37.55) centre (27.55, 27.55) ccw projected
  line L63 (27.55, 37.55) -> (-27.55, 37.55) projected
  arc A9 (-27.55, 37.55) -> (-37.55, 27.55) centre (-27.55, 27.55) ccw projected
  line L64 (-37.55, 27.55) -> (-37.55, -27.55) projected
  arc A10 (-37.55, -27.55) -> (-27.55, -37.55) centre (-27.55, -27.55) ccw projected
  line L65 (-27.55, -37.55) -> (27.55, -37.55) projected
  arc A11 (27.55, -37.55) -> (37.55, -27.55) centre (27.55, -27.55) ccw projected
  line L66 (37.55, -27.55) -> (37.55, -21.2895) projected
  line L67 (37.55, -21.2895) -> (29.15, -21.2895) projected
  line L68 (29.15, -21.2895) -> (29.15, -33.65) projected
  line L69 (29.15, -33.65) -> (27, -33.65) projected
  line L70 (27, -33.65) -> (27, -35) projected
  line L71 (27, -35) -> (17, -35) projected
  line L72 (17, -35) -> (17, -33.65) projected
  line L73 (17, -33.65) -> (14.85, -33.65) projected
  line L74 (-17.55, 24.15) -> (-17.55, 37.55)
  line L75 (-27.55, 37.55) -> (-27.55, 20.15)
  line L76 (-11.3, 24.15) -> (-17.55, 24.15)
  line L77 (-13.7, 12.85) -> (-13.7, -12.85)
  line L78 (-11.3, 12.85) -> (-11.3, 9.15)
  line L79 (-11.3, 9.15) -> (-12.15, 9.15)
  line L80 (-12.15, 9.15) -> (-12.15, -9.15)
  line L81 (-12.15, -9.15) -> (-11.3, -9.15)
  line L82 (-11.3, -9.15) -> (-11.3, -12.85)
  line L83 (-11.15, 0) -> (-11.15, 24) projected
  line L84 (-12, 3) -> (-12, 9) projected
  line L85 (-11.15, 3) -> (-12, 3) projected
  line L86 (-11.15, 0) -> (-11.15, -24) projected
  line L87 (-11.15, -3) -> (-12, -3) projected
  line L88 (-12, -3) -> (-12, -9) projected
  line L89 (-12, -9) -> (-11.15, -9) projected
  line L90 (-12.15, 2.85) -> (-11.3, 2.85)
  line L91 (-11.3, 2.85) -> (-11.3, -2.85)
  line L92 (-11.3, -2.85) -> (-12.15, -2.85)
  line L93 (-12, 9) -> (-11.15, 9) projected
  line L94 (55.4695, 0) -> (-55.4695, 0) construction
  line L95 (-17.55, -24.15) -> (-17.55, -37.55)
  line L96 (-27.55, -37.55) -> (-27.55, -20.15)
  line L97 (-11.3, -24.15) -> (-17.55, -24.15)
  line L98 (-22.55, 37.55) -> (-22.55, -37.55)
  line L99 (-17.55, 24.15) -> (-22.55, 24.15)
  line L100 (-17.55, -24.15) -> (-37.55, -24.15)
  line L101 (-22.55, 24.15) -> (-37.55, 24.15)
  line L102 (-34, -20.15) -> (-37.55, -20.15)
  line L103 (-34, 20.15) -> (-37.55, 20.15)
  line L104 (-27.55, 30.15) -> (-17.55, 30.15)
  line L105 (-27.55, 24.95) -> (-17.55, 24.95)
  line L106 (-27.55, 30.15) -> (-27.55, 24.95)
  line L107 (-17.55, 24.95) -> (-17.55, 30.15)
  line L108 (-17.55, 27.55) -> (-27.55, 27.55) construction
  line L109 (-27.55, -27.55) -> (-17.55, -27.55) construction
  line L110 (-27.55, -30.15) -> (-17.55, -30.15)
  line L111 (-27.55, -24.95) -> (-17.55, -24.95)
  point P0 (0, 0)
  point P1 (-27.55, 24.15)
  point P2 (-27.55, -24.15)
  point P3 (-22.55, 30.15)
  point P4 (-22.55, 24.95)
  point P5 (-22.55, -24.95)
  point P6 (-22.55, -30.15)
  point P7 (-17.55, -24.95)
  dimension "d142" = 10
  dimension "d143" = 0.15
  dimension "d144" = 0.15
  dimension "d145" = 0.15
  dimension "d146" = 0.15
  dimension "d147" = 0.15
  dimension "d148" = 0.15
  dimension "d150" = 5
  dimension "d153" = 5.2
  dimension "d155" = 5.2
  dimension "d162" = 10
  dimension "d163" = 10
  dimension "d164" = 2.6
extrude "押し出し26" cut sketch "スケッチ13" against normal blind 10 from surface at 33.5 contours L97 L100 L98 L17 L16 L15 L14 L13 L12 L11 L10 | L100 L96 L17 L98 | L100 L64 L102 L17 L96 | L96 A10 L64 L100 | L98 L99 L76 L32 L31 L30 L29 L28 L27 L26 L25 | L25 L75 L101 L98 | L15 L77 L27 L78 L79 L80 L81 L82 | L25 L103 L64 L101 L75 | L101 L64 A9 L75 | L80 L90 L91 L92
extrude "押し出し27" cut sketch "スケッチ13" against normal blind 7.8 from surface at 33.5 contours L95 L110 L98 L111 | L98 L104 L74 L105
sketch "スケッチ14" plane through (27.55, 33.5, 37.55) normal (1, 0, 0) x (0, 0, -1)
  line L0 (0, 0) -> (0, -10) projected
  line L1 (0, 0) -> (13.4, 0) projected
  line L2 (0, -10) -> (13.4, -10) projected
  line L3 (13.4, -10) -> (13.4, 0) projected
  line L4 (0, 0) -> (13.4, -10) construction
  line L5 (0, -10) -> (13.4, 0) construction
  line L6 (37.55, -40.2) -> (37.55, 6.7) construction
  line L7 (0, -5) -> (13.4, -5) construction
  circle A0 centre (10, -5) radius 1.35
  circle A1 centre (65.1, -5) radius 1.35
  point P0 (37.55, -33.5)
  dimension "d165" = 2.7
  dimension "d166" = 10
extrude "押し出し29" cut sketch "スケッチ14" against normal up to surface (5 mm away) contours A0 | A1
extrude "押し出し30" cut sketch "スケッチ1" along normal up to surface (33.5 mm away) contours L106 L56 L64 L62 | L35 L37 L12 L109 | L64 L56 L66 L62 | L35 L39 L12 L37 | L66 L56 L107 L62 | L35 L108 L12 L39
extrude "押し出し31" cut sketch "スケッチ1" along normal up to surface (33.5 mm away) contours L112 L113 L56 L106 | L109 L12 L117 L116 | L107 L56 L110 L111 | L115 L114 L12 L108
sketch "スケッチ15" plane through (13.7, 23.5, -20.15) normal (0, 1, 0) x (1, 0, 0)
  line L0 (0.3, -44.15) -> (0.3, -44.3) projected
  line L1 (13.85, -44.3) -> (0.3, -44.3) projected
  line L2 (13.85, -57.7) -> (13.85, -44.3) projected
  arc A0 (13.85, -57.7) -> (23.85, -47.7) centre (13.85, -47.7) ccw projected
  line L3 (23.85, -47.7) -> (23.85, -40.3) projected
  line L4 (20.3, -40.3) -> (23.85, -40.3) projected
  line L5 (20.3, -40.3) -> (0, -40.3) projected
  line L6 (0, -40.3) -> (0, -33) projected
  line L7 (0, -33) -> (-2.4, -33) projected
  line L8 (-2.4, -33) -> (-2.4, -35) projected
  line L9 (-2.4, -35) -> (-1.55, -35) projected
  line L10 (-1.55, -35) -> (-1.55, -41.3) projected
  line L11 (-1.55, -41.3) -> (-2.4, -41.3) projected
  line L12 (-2.4, -41.3) -> (-2.4, -44.15) projected
  line L13 (-2.4, -44.15) -> (0.3, -44.15) projected
  circle A1 centre (17.4127, -51.2627) radius 1.35 projected
  line L14 (0.3, 3.85) -> (-2.4, 3.85) projected
  line L15 (-2.4, 3.85) -> (-2.4, 1) projected
  line L16 (-2.4, 1) -> (-1.55, 1) projected
  line L17 (-1.55, 1) -> (-1.55, -5.3) projected
  line L18 (-1.55, -5.3) -> (-2.4, -5.3) projected
  line L19 (-2.4, -5.3) -> (-2.4, -7.3) projected
  line L20 (-2.4, -7.3) -> (0, -7.3) projected
  line L21 (0, -7.3) -> (0, 0) projected
  line L22 (0, 0) -> (20.3, 0) projected
  line L23 (23.85, 0) -> (20.3, 0) projected
  line L24 (23.85, 0) -> (23.85, 7.4) projected
  arc A2 (23.85, 7.4) -> (13.85, 17.4) centre (13.85, 7.4) ccw projected
  line L25 (13.85, 4) -> (13.85, 17.4) projected
  line L26 (0.3, 4) -> (13.85, 4) projected
  line L27 (0.3, 4) -> (0.3, 3.85) projected
  circle A3 centre (17.4127, 10.9627) radius 1.35 projected
  line L28 (0, -33) -> (0, -7.3)
  line L29 (-2.4, -29.3) -> (-2.4, -33) projected
  line L30 (-1.55, -29.3) -> (-2.4, -29.3) projected
  line L31 (-1.55, -23) -> (-1.55, -29.3) projected
  line L32 (-2.4, -23) -> (-1.55, -23) projected
  line L33 (-2.4, -17.3) -> (-2.4, -23) projected
  line L34 (-1.55, -17.3) -> (-2.4, -17.3) projected
  line L35 (-1.55, -11) -> (-1.55, -17.3) projected
  line L36 (-2.4, -11) -> (-1.55, -11) projected
  line L37 (-2.4, -7.3) -> (-2.4, -11) projected
  point P0 (-13.7, -20.15)
sketch "スケッチ16" plane through (0, 33.5, 0) normal (0, 1, 0) x (1, 0, 0)
  arc A0 (-27.55, 37.55) -> (-37.55, 27.55) centre (-27.55, 27.55) ccw projected
  line L0 (27.55, 37.55) -> (-27.55, 37.55) projected
  arc A1 (37.55, 27.55) -> (27.55, 37.55) centre (27.55, 27.55) ccw projected
  line L1 (37.55, 20.15) -> (37.55, 27.55) projected
  line L2 (37.55, -20.15) -> (37.55, 20.15) projected
  arc A2 (27.55, -37.55) -> (37.55, -27.55) centre (27.55, -27.55) ccw projected
  line L3 (37.55, -27.55) -> (37.55, -20.15) projected
  line L4 (-27.55, -37.55) -> (27.55, -37.55) projected
  arc A3 (-37.55, -27.55) -> (-27.55, -37.55) centre (-27.55, -27.55) ccw projected
  line L5 (-37.55, -21.2895) -> (-37.55, -27.55) projected
  line L6 (-37.55, -26) -> (-37.55, 26) projected
  line L7 (-37.55, 27.55) -> (-37.55, 21.2895) projected
  circle A4 centre (-31.1127, 31.1127) radius 1.35 projected
  circle A5 centre (-31.1127, -31.1127) radius 1.35 projected
  circle A6 centre (31.1127, -31.1127) radius 1.35 projected
  circle A7 centre (31.1127, 31.1127) radius 1.35 projected
  line L8 (20, -20) -> (-20, -20)
  line L9 (-20, -20) -> (-20, 20)
  line L10 (-20, 20) -> (20, 20)
  line L11 (20, 20) -> (20, -20)
  line L12 (20, -20) -> (-20, 20) construction
  line L13 (-20, -20) -> (20, 20) construction
  line L14 (20, 20) -> (37.55, 20.15)
  line L15 (-20, -20) -> (-37.55, -20)
  line L16 (-20, 20) -> (-37.55, 20)
  line L17 (20, -20) -> (37.55, -20.15)
  line L18 (14, -24) -> (-14, -24) projected
  line L19 (-14, 24) -> (14, 24) projected
  line L20 (11.15, 0) -> (11.15, -24) projected
  line L21 (-11.15, -24) -> (-11.15, 0) projected
  line L22 (-11.15, 24) -> (-11.15, 0) projected
  line L23 (11.15, 0) -> (11.15, 24) projected
  line L24 (-11.15, -21) -> (11.15, -21)
  line L25 (55.4695, 0) -> (-55.4695, 0) construction
  line L26 (-11.15, 21) -> (11.15, 21)
  line L27 (-11.15, -3) -> (11.15, -3)
  line L28 (11.15, 3) -> (-11.15, 3)
  line L29 (-11.15, -3.15) -> (11.15, -3.15)
  line L30 (11.15, 3.15) -> (-11.15, 3.15)
  line L31 (-11.15, -24) -> (-11.15, -24.15)
  line L32 (-11.15, -24.15) -> (11.15, -24.15)
  line L33 (11.15, -24.15) -> (11.15, -23.85)
  line L34 (-11.15, 24) -> (-11.15, 24.15)
  line L35 (-11.15, 24.15) -> (11.15, 24.15)
  line L36 (11.15, 24.15) -> (11.15, 24)
  line L37 (-11.15, -20.85) -> (11.15, -20.85)
  line L38 (-11.15, 20.85) -> (11.15, 20.85)
  circle A8 centre (31.1127, 31.1127) radius 2.5 projected
  circle A9 centre (31.1127, -31.1127) radius 2.5 projected
  line L39 (27.55, -37.55) -> (27.55, -24.15) projected
  line L40 (27.55, -27.55) -> (27.55, -37.55)
  line L41 (27.55, -37.55) -> (27.55, -27.55)
  line L42 (-37.55, -24.55) -> (37.55, -24.55)
  line L43 (-37.55, 24.55) -> (37.55, 24.55)
  line L44 (-24.55, 37.55) -> (-24.55, -37.55)
  line L45 (24.55, 37.55) -> (24.55, -37.55)
  point P0 (0, 0)
  point P1 (-11.15, 20)
  point P2 (11.15, 20)
  point P3 (37.55, 27.55)
  point P4 (-11.15, 22.55)
  point P5 (11.15, 22.55)
  point P6 (11.15, -22.55)
  point P7 (-11.15, -22.55)
  point P8 (-24.55, -24.55)
  point P9 (24.55, -24.55)
  point P10 (24.55, 24.55)
  point P11 (-24.55, 24.55)
  dimension "d177" = 40
  dimension "d178" = 40
  dimension "d181" = 3
  dimension "d182" = 3
  dimension "d183" = 3
  dimension "d184" = 3
  dimension "d185" = 0.15
  dimension "d186" = 0.15
  dimension "d187" = 0.15
  dimension "d188" = 0.15
  dimension "d189" = 0.15
  dimension "d190" = 0.15
  dimension "d208" = 3
  dimension "d209" = 3
  dimension "d212" = 3
  dimension "d213" = 3
extrude "押し出し32" cut sketch "スケッチ1" along normal through all contours L3 L2 L1 L0 | L9 L8 L7 L24 L88 L87 L86 L20 L53 L54 L55 L116 L117 L13 L14 L15 L114 L115 L21 L47 L48 L49 L44 L43 L42 L61 L67 L68 L69 L70 L71 L72 L111 L110 L59 L58 L57 L113 L112 L60 L78 L76 L77 L22 L85 L6 | L22 L88 A2 A15 A3 L24 L7 | L88 L85 L86 L22 | L22 L86 A1 A0 L24 L88 A3 A15 A2 | L24 L86 L87 L88 | L22 L60 L75 L73 L74 L20 L50 L51 L52 L24 L86 A0 A1 | L88 A2 | A2 L88 | L88 A3 | A3 L88 | L60 L62 L61 L21 L35 L20 | L86 A1 | A1 L86 | L86 A0 | A0 L86 | L60 L74 L73 L75 | L77 L76 L78 L60 | A15 L88 A14 | L88 A14 A15 | L52 L51 L50 L20 | L20 L55 L54 L53 | A14 L88 | L88 A14 | L106 L56 L64 L62 | L112 L113 L56 L106 | L35 L37 L12 L109 | L109 L12 L117 L116 | L64 L56 L66 L62 | L56 L57 L58 L59 L66 L65 L64 | L35 L39 L12 L37 | L12 L37 L38 L39 L15 L14 L13 | L66 L56 L107 L62 | L64 L65 L66 L56 | L35 L108 L12 L39 | L12 L39 L38 L37 | L107 L56 L110 L111 | L115 L114 L12 L108 | L72 L71 L70 L61 | L21 L49 L48 L47 | L69 L68 L67 L61 | L21 L42 L43 L44 | L79 A11 L80 L81 A10 L82 | A11 L79 | L79 A11 | L81 A10 L99 L100 | A10 L81 | L81 A10 L99 | L81 L102 L99 A10 | L99 A10 | A4 | A5 | A6 | A7 | A8 | A9 | A12 | A13 | L93 L94 L95 L96
extrude "押し出し33" add sketch "スケッチ16" along normal blind 4.5 contours L0 L44 L43 L6 L7 A0 | L0 L45 L43 L44 | L0 A1 L1 L43 L45 | L44 L16 L6 L43 | L43 L45 L14 L10 L23 L36 L35 L34 L22 L16 L44 | L43 L1 L14 L45 | L44 L15 L6 L16 | L16 L9 L15 L44 | L45 L17 L11 L14 | L14 L2 L17 L45 | L10 L22 L21 L8 L9 | L44 L42 L5 L6 L15 | L15 L8 L21 L31 L32 L33 L20 L17 L45 L42 L44 | L11 L8 L20 L23 L10 | L17 L3 L42 L45 | L22 L38 L23 L10 | L10 L23 L30 L22 | L44 L4 A3 L5 L42 | L42 L45 L4 L44 | L42 L39 L4 L45 | L21 L29 L20 L8 | L8 L20 L37 L21 | L22 L26 L23 L38 | L30 L23 L28 L22 | L3 A2 L39 L42 | L37 L20 L24 L21 | L21 L27 L20 L29 | L22 L19 L23 L26 | L28 L23 L20 L27 L21 L22 | L24 L20 L18 L21 | L34 L35 L36 L19 | L18 L33 L32 L31 | A8 | A9
extrude "押し出し34" cut sketch "スケッチ16" along normal blind 2.5 contours L44 L15 L6 L16 | L16 L9 L15 L44 | L45 L17 L11 L14 | L14 L2 L17 L45 | L10 L22 L21 L8 L9 | L11 L8 L20 L23 L10 | L10 L23 L30 L22 | L21 L29 L20 L8 | L30 L23 L28 L22 | L21 L27 L20 L29 | L28 L23 L20 L27 L21 L22
extrude "押し出し35" cut sketch "スケッチ16" along normal up to surface (4.5 mm away) contours L22 L38 L23 L10 | L22 L26 L23 L38 | L30 L23 L28 L22 | L37 L20 L24 L21 | L21 L27 L20 L29 | L22 L19 L23 L26 | L28 L23 L20 L27 L21 L22 | L24 L20 L18 L21 | L34 L35 L36 L19 | L18 L33 L32 L31
sketch "スケッチ17" plane through (0, 38, 0) normal (0, 1, 0) x (1, 0, 0)
  line L0 (11.15, 24.15) -> (11.15, 20) projected
  line L1 (11.15, 20) -> (-11.15, 20) projected
  line L2 (-11.15, 20) -> (-11.15, 24.15) projected
  line L3 (-11.15, 24.15) -> (11.15, 24.15) projected
  line L4 (11.15, -24.15) -> (-11.15, -24.15) projected
  line L5 (-11.15, -24.15) -> (-11.15, -20.85) projected
  line L6 (-11.15, -20.85) -> (11.15, -20.85) projected
  line L7 (11.15, -20.85) -> (11.15, -24.15) projected
  line L8 (11.15, 3.15) -> (11.15, -3.15) projected
  line L9 (11.15, -3.15) -> (-11.15, -3.15) projected
  line L10 (-11.15, -3.15) -> (-11.15, 3.15) projected
  line L11 (-11.15, 3.15) -> (11.15, 3.15) projected
  line L12 (-37.55, 27.55) -> (-37.55, -27.55) projected
  arc A0 (-37.55, -27.55) -> (-27.55, -37.55) centre (-27.55, -27.55) ccw projected
  line L13 (-27.55, -37.55) -> (27.55, -37.55) projected
  arc A1 (27.55, -37.55) -> (37.55, -27.55) centre (27.55, -27.55) ccw projected
  line L14 (37.55, -27.55) -> (37.55, 27.55) projected
  arc A2 (37.55, 27.55) -> (27.55, 37.55) centre (27.55, 27.55) ccw projected
  line L15 (27.55, 37.55) -> (-27.55, 37.55) projected
  arc A3 (-27.55, 37.55) -> (-37.55, 27.55) centre (-27.55, 27.55) ccw projected
  circle A4 centre (31.1127, 31.1127) radius 1.35 projected
  circle A5 centre (31.1127, -31.1127) radius 1.35 projected
  circle A6 centre (-31.1127, -31.1127) radius 1.35 projected
  circle A7 centre (-31.1127, 31.1127) radius 1.35 projected
  point P0 (0, 0)
extrude "押し出し38" add sketch "スケッチ17" along normal blind 1 contours L0 L1 L2 L3 | L4 L5 L6 L7 | L8 L9 L10 L11 | A3 L15 A2 L14 A1 L13 A0 L12
extrude "押し出し42" cut sketch "スケッチ16" against normal blind 4 from surface at 5.5 contours L0 L44 L43 L6 L7 A0 | L0 A1 L1 L43 L45 | L44 L4 A3 L5 L42 | L42 L39 L4 L45 | L3 A2 L39 L42 | A4 | A6 | A7 | A8 | A9
properties part number "enclosure"
